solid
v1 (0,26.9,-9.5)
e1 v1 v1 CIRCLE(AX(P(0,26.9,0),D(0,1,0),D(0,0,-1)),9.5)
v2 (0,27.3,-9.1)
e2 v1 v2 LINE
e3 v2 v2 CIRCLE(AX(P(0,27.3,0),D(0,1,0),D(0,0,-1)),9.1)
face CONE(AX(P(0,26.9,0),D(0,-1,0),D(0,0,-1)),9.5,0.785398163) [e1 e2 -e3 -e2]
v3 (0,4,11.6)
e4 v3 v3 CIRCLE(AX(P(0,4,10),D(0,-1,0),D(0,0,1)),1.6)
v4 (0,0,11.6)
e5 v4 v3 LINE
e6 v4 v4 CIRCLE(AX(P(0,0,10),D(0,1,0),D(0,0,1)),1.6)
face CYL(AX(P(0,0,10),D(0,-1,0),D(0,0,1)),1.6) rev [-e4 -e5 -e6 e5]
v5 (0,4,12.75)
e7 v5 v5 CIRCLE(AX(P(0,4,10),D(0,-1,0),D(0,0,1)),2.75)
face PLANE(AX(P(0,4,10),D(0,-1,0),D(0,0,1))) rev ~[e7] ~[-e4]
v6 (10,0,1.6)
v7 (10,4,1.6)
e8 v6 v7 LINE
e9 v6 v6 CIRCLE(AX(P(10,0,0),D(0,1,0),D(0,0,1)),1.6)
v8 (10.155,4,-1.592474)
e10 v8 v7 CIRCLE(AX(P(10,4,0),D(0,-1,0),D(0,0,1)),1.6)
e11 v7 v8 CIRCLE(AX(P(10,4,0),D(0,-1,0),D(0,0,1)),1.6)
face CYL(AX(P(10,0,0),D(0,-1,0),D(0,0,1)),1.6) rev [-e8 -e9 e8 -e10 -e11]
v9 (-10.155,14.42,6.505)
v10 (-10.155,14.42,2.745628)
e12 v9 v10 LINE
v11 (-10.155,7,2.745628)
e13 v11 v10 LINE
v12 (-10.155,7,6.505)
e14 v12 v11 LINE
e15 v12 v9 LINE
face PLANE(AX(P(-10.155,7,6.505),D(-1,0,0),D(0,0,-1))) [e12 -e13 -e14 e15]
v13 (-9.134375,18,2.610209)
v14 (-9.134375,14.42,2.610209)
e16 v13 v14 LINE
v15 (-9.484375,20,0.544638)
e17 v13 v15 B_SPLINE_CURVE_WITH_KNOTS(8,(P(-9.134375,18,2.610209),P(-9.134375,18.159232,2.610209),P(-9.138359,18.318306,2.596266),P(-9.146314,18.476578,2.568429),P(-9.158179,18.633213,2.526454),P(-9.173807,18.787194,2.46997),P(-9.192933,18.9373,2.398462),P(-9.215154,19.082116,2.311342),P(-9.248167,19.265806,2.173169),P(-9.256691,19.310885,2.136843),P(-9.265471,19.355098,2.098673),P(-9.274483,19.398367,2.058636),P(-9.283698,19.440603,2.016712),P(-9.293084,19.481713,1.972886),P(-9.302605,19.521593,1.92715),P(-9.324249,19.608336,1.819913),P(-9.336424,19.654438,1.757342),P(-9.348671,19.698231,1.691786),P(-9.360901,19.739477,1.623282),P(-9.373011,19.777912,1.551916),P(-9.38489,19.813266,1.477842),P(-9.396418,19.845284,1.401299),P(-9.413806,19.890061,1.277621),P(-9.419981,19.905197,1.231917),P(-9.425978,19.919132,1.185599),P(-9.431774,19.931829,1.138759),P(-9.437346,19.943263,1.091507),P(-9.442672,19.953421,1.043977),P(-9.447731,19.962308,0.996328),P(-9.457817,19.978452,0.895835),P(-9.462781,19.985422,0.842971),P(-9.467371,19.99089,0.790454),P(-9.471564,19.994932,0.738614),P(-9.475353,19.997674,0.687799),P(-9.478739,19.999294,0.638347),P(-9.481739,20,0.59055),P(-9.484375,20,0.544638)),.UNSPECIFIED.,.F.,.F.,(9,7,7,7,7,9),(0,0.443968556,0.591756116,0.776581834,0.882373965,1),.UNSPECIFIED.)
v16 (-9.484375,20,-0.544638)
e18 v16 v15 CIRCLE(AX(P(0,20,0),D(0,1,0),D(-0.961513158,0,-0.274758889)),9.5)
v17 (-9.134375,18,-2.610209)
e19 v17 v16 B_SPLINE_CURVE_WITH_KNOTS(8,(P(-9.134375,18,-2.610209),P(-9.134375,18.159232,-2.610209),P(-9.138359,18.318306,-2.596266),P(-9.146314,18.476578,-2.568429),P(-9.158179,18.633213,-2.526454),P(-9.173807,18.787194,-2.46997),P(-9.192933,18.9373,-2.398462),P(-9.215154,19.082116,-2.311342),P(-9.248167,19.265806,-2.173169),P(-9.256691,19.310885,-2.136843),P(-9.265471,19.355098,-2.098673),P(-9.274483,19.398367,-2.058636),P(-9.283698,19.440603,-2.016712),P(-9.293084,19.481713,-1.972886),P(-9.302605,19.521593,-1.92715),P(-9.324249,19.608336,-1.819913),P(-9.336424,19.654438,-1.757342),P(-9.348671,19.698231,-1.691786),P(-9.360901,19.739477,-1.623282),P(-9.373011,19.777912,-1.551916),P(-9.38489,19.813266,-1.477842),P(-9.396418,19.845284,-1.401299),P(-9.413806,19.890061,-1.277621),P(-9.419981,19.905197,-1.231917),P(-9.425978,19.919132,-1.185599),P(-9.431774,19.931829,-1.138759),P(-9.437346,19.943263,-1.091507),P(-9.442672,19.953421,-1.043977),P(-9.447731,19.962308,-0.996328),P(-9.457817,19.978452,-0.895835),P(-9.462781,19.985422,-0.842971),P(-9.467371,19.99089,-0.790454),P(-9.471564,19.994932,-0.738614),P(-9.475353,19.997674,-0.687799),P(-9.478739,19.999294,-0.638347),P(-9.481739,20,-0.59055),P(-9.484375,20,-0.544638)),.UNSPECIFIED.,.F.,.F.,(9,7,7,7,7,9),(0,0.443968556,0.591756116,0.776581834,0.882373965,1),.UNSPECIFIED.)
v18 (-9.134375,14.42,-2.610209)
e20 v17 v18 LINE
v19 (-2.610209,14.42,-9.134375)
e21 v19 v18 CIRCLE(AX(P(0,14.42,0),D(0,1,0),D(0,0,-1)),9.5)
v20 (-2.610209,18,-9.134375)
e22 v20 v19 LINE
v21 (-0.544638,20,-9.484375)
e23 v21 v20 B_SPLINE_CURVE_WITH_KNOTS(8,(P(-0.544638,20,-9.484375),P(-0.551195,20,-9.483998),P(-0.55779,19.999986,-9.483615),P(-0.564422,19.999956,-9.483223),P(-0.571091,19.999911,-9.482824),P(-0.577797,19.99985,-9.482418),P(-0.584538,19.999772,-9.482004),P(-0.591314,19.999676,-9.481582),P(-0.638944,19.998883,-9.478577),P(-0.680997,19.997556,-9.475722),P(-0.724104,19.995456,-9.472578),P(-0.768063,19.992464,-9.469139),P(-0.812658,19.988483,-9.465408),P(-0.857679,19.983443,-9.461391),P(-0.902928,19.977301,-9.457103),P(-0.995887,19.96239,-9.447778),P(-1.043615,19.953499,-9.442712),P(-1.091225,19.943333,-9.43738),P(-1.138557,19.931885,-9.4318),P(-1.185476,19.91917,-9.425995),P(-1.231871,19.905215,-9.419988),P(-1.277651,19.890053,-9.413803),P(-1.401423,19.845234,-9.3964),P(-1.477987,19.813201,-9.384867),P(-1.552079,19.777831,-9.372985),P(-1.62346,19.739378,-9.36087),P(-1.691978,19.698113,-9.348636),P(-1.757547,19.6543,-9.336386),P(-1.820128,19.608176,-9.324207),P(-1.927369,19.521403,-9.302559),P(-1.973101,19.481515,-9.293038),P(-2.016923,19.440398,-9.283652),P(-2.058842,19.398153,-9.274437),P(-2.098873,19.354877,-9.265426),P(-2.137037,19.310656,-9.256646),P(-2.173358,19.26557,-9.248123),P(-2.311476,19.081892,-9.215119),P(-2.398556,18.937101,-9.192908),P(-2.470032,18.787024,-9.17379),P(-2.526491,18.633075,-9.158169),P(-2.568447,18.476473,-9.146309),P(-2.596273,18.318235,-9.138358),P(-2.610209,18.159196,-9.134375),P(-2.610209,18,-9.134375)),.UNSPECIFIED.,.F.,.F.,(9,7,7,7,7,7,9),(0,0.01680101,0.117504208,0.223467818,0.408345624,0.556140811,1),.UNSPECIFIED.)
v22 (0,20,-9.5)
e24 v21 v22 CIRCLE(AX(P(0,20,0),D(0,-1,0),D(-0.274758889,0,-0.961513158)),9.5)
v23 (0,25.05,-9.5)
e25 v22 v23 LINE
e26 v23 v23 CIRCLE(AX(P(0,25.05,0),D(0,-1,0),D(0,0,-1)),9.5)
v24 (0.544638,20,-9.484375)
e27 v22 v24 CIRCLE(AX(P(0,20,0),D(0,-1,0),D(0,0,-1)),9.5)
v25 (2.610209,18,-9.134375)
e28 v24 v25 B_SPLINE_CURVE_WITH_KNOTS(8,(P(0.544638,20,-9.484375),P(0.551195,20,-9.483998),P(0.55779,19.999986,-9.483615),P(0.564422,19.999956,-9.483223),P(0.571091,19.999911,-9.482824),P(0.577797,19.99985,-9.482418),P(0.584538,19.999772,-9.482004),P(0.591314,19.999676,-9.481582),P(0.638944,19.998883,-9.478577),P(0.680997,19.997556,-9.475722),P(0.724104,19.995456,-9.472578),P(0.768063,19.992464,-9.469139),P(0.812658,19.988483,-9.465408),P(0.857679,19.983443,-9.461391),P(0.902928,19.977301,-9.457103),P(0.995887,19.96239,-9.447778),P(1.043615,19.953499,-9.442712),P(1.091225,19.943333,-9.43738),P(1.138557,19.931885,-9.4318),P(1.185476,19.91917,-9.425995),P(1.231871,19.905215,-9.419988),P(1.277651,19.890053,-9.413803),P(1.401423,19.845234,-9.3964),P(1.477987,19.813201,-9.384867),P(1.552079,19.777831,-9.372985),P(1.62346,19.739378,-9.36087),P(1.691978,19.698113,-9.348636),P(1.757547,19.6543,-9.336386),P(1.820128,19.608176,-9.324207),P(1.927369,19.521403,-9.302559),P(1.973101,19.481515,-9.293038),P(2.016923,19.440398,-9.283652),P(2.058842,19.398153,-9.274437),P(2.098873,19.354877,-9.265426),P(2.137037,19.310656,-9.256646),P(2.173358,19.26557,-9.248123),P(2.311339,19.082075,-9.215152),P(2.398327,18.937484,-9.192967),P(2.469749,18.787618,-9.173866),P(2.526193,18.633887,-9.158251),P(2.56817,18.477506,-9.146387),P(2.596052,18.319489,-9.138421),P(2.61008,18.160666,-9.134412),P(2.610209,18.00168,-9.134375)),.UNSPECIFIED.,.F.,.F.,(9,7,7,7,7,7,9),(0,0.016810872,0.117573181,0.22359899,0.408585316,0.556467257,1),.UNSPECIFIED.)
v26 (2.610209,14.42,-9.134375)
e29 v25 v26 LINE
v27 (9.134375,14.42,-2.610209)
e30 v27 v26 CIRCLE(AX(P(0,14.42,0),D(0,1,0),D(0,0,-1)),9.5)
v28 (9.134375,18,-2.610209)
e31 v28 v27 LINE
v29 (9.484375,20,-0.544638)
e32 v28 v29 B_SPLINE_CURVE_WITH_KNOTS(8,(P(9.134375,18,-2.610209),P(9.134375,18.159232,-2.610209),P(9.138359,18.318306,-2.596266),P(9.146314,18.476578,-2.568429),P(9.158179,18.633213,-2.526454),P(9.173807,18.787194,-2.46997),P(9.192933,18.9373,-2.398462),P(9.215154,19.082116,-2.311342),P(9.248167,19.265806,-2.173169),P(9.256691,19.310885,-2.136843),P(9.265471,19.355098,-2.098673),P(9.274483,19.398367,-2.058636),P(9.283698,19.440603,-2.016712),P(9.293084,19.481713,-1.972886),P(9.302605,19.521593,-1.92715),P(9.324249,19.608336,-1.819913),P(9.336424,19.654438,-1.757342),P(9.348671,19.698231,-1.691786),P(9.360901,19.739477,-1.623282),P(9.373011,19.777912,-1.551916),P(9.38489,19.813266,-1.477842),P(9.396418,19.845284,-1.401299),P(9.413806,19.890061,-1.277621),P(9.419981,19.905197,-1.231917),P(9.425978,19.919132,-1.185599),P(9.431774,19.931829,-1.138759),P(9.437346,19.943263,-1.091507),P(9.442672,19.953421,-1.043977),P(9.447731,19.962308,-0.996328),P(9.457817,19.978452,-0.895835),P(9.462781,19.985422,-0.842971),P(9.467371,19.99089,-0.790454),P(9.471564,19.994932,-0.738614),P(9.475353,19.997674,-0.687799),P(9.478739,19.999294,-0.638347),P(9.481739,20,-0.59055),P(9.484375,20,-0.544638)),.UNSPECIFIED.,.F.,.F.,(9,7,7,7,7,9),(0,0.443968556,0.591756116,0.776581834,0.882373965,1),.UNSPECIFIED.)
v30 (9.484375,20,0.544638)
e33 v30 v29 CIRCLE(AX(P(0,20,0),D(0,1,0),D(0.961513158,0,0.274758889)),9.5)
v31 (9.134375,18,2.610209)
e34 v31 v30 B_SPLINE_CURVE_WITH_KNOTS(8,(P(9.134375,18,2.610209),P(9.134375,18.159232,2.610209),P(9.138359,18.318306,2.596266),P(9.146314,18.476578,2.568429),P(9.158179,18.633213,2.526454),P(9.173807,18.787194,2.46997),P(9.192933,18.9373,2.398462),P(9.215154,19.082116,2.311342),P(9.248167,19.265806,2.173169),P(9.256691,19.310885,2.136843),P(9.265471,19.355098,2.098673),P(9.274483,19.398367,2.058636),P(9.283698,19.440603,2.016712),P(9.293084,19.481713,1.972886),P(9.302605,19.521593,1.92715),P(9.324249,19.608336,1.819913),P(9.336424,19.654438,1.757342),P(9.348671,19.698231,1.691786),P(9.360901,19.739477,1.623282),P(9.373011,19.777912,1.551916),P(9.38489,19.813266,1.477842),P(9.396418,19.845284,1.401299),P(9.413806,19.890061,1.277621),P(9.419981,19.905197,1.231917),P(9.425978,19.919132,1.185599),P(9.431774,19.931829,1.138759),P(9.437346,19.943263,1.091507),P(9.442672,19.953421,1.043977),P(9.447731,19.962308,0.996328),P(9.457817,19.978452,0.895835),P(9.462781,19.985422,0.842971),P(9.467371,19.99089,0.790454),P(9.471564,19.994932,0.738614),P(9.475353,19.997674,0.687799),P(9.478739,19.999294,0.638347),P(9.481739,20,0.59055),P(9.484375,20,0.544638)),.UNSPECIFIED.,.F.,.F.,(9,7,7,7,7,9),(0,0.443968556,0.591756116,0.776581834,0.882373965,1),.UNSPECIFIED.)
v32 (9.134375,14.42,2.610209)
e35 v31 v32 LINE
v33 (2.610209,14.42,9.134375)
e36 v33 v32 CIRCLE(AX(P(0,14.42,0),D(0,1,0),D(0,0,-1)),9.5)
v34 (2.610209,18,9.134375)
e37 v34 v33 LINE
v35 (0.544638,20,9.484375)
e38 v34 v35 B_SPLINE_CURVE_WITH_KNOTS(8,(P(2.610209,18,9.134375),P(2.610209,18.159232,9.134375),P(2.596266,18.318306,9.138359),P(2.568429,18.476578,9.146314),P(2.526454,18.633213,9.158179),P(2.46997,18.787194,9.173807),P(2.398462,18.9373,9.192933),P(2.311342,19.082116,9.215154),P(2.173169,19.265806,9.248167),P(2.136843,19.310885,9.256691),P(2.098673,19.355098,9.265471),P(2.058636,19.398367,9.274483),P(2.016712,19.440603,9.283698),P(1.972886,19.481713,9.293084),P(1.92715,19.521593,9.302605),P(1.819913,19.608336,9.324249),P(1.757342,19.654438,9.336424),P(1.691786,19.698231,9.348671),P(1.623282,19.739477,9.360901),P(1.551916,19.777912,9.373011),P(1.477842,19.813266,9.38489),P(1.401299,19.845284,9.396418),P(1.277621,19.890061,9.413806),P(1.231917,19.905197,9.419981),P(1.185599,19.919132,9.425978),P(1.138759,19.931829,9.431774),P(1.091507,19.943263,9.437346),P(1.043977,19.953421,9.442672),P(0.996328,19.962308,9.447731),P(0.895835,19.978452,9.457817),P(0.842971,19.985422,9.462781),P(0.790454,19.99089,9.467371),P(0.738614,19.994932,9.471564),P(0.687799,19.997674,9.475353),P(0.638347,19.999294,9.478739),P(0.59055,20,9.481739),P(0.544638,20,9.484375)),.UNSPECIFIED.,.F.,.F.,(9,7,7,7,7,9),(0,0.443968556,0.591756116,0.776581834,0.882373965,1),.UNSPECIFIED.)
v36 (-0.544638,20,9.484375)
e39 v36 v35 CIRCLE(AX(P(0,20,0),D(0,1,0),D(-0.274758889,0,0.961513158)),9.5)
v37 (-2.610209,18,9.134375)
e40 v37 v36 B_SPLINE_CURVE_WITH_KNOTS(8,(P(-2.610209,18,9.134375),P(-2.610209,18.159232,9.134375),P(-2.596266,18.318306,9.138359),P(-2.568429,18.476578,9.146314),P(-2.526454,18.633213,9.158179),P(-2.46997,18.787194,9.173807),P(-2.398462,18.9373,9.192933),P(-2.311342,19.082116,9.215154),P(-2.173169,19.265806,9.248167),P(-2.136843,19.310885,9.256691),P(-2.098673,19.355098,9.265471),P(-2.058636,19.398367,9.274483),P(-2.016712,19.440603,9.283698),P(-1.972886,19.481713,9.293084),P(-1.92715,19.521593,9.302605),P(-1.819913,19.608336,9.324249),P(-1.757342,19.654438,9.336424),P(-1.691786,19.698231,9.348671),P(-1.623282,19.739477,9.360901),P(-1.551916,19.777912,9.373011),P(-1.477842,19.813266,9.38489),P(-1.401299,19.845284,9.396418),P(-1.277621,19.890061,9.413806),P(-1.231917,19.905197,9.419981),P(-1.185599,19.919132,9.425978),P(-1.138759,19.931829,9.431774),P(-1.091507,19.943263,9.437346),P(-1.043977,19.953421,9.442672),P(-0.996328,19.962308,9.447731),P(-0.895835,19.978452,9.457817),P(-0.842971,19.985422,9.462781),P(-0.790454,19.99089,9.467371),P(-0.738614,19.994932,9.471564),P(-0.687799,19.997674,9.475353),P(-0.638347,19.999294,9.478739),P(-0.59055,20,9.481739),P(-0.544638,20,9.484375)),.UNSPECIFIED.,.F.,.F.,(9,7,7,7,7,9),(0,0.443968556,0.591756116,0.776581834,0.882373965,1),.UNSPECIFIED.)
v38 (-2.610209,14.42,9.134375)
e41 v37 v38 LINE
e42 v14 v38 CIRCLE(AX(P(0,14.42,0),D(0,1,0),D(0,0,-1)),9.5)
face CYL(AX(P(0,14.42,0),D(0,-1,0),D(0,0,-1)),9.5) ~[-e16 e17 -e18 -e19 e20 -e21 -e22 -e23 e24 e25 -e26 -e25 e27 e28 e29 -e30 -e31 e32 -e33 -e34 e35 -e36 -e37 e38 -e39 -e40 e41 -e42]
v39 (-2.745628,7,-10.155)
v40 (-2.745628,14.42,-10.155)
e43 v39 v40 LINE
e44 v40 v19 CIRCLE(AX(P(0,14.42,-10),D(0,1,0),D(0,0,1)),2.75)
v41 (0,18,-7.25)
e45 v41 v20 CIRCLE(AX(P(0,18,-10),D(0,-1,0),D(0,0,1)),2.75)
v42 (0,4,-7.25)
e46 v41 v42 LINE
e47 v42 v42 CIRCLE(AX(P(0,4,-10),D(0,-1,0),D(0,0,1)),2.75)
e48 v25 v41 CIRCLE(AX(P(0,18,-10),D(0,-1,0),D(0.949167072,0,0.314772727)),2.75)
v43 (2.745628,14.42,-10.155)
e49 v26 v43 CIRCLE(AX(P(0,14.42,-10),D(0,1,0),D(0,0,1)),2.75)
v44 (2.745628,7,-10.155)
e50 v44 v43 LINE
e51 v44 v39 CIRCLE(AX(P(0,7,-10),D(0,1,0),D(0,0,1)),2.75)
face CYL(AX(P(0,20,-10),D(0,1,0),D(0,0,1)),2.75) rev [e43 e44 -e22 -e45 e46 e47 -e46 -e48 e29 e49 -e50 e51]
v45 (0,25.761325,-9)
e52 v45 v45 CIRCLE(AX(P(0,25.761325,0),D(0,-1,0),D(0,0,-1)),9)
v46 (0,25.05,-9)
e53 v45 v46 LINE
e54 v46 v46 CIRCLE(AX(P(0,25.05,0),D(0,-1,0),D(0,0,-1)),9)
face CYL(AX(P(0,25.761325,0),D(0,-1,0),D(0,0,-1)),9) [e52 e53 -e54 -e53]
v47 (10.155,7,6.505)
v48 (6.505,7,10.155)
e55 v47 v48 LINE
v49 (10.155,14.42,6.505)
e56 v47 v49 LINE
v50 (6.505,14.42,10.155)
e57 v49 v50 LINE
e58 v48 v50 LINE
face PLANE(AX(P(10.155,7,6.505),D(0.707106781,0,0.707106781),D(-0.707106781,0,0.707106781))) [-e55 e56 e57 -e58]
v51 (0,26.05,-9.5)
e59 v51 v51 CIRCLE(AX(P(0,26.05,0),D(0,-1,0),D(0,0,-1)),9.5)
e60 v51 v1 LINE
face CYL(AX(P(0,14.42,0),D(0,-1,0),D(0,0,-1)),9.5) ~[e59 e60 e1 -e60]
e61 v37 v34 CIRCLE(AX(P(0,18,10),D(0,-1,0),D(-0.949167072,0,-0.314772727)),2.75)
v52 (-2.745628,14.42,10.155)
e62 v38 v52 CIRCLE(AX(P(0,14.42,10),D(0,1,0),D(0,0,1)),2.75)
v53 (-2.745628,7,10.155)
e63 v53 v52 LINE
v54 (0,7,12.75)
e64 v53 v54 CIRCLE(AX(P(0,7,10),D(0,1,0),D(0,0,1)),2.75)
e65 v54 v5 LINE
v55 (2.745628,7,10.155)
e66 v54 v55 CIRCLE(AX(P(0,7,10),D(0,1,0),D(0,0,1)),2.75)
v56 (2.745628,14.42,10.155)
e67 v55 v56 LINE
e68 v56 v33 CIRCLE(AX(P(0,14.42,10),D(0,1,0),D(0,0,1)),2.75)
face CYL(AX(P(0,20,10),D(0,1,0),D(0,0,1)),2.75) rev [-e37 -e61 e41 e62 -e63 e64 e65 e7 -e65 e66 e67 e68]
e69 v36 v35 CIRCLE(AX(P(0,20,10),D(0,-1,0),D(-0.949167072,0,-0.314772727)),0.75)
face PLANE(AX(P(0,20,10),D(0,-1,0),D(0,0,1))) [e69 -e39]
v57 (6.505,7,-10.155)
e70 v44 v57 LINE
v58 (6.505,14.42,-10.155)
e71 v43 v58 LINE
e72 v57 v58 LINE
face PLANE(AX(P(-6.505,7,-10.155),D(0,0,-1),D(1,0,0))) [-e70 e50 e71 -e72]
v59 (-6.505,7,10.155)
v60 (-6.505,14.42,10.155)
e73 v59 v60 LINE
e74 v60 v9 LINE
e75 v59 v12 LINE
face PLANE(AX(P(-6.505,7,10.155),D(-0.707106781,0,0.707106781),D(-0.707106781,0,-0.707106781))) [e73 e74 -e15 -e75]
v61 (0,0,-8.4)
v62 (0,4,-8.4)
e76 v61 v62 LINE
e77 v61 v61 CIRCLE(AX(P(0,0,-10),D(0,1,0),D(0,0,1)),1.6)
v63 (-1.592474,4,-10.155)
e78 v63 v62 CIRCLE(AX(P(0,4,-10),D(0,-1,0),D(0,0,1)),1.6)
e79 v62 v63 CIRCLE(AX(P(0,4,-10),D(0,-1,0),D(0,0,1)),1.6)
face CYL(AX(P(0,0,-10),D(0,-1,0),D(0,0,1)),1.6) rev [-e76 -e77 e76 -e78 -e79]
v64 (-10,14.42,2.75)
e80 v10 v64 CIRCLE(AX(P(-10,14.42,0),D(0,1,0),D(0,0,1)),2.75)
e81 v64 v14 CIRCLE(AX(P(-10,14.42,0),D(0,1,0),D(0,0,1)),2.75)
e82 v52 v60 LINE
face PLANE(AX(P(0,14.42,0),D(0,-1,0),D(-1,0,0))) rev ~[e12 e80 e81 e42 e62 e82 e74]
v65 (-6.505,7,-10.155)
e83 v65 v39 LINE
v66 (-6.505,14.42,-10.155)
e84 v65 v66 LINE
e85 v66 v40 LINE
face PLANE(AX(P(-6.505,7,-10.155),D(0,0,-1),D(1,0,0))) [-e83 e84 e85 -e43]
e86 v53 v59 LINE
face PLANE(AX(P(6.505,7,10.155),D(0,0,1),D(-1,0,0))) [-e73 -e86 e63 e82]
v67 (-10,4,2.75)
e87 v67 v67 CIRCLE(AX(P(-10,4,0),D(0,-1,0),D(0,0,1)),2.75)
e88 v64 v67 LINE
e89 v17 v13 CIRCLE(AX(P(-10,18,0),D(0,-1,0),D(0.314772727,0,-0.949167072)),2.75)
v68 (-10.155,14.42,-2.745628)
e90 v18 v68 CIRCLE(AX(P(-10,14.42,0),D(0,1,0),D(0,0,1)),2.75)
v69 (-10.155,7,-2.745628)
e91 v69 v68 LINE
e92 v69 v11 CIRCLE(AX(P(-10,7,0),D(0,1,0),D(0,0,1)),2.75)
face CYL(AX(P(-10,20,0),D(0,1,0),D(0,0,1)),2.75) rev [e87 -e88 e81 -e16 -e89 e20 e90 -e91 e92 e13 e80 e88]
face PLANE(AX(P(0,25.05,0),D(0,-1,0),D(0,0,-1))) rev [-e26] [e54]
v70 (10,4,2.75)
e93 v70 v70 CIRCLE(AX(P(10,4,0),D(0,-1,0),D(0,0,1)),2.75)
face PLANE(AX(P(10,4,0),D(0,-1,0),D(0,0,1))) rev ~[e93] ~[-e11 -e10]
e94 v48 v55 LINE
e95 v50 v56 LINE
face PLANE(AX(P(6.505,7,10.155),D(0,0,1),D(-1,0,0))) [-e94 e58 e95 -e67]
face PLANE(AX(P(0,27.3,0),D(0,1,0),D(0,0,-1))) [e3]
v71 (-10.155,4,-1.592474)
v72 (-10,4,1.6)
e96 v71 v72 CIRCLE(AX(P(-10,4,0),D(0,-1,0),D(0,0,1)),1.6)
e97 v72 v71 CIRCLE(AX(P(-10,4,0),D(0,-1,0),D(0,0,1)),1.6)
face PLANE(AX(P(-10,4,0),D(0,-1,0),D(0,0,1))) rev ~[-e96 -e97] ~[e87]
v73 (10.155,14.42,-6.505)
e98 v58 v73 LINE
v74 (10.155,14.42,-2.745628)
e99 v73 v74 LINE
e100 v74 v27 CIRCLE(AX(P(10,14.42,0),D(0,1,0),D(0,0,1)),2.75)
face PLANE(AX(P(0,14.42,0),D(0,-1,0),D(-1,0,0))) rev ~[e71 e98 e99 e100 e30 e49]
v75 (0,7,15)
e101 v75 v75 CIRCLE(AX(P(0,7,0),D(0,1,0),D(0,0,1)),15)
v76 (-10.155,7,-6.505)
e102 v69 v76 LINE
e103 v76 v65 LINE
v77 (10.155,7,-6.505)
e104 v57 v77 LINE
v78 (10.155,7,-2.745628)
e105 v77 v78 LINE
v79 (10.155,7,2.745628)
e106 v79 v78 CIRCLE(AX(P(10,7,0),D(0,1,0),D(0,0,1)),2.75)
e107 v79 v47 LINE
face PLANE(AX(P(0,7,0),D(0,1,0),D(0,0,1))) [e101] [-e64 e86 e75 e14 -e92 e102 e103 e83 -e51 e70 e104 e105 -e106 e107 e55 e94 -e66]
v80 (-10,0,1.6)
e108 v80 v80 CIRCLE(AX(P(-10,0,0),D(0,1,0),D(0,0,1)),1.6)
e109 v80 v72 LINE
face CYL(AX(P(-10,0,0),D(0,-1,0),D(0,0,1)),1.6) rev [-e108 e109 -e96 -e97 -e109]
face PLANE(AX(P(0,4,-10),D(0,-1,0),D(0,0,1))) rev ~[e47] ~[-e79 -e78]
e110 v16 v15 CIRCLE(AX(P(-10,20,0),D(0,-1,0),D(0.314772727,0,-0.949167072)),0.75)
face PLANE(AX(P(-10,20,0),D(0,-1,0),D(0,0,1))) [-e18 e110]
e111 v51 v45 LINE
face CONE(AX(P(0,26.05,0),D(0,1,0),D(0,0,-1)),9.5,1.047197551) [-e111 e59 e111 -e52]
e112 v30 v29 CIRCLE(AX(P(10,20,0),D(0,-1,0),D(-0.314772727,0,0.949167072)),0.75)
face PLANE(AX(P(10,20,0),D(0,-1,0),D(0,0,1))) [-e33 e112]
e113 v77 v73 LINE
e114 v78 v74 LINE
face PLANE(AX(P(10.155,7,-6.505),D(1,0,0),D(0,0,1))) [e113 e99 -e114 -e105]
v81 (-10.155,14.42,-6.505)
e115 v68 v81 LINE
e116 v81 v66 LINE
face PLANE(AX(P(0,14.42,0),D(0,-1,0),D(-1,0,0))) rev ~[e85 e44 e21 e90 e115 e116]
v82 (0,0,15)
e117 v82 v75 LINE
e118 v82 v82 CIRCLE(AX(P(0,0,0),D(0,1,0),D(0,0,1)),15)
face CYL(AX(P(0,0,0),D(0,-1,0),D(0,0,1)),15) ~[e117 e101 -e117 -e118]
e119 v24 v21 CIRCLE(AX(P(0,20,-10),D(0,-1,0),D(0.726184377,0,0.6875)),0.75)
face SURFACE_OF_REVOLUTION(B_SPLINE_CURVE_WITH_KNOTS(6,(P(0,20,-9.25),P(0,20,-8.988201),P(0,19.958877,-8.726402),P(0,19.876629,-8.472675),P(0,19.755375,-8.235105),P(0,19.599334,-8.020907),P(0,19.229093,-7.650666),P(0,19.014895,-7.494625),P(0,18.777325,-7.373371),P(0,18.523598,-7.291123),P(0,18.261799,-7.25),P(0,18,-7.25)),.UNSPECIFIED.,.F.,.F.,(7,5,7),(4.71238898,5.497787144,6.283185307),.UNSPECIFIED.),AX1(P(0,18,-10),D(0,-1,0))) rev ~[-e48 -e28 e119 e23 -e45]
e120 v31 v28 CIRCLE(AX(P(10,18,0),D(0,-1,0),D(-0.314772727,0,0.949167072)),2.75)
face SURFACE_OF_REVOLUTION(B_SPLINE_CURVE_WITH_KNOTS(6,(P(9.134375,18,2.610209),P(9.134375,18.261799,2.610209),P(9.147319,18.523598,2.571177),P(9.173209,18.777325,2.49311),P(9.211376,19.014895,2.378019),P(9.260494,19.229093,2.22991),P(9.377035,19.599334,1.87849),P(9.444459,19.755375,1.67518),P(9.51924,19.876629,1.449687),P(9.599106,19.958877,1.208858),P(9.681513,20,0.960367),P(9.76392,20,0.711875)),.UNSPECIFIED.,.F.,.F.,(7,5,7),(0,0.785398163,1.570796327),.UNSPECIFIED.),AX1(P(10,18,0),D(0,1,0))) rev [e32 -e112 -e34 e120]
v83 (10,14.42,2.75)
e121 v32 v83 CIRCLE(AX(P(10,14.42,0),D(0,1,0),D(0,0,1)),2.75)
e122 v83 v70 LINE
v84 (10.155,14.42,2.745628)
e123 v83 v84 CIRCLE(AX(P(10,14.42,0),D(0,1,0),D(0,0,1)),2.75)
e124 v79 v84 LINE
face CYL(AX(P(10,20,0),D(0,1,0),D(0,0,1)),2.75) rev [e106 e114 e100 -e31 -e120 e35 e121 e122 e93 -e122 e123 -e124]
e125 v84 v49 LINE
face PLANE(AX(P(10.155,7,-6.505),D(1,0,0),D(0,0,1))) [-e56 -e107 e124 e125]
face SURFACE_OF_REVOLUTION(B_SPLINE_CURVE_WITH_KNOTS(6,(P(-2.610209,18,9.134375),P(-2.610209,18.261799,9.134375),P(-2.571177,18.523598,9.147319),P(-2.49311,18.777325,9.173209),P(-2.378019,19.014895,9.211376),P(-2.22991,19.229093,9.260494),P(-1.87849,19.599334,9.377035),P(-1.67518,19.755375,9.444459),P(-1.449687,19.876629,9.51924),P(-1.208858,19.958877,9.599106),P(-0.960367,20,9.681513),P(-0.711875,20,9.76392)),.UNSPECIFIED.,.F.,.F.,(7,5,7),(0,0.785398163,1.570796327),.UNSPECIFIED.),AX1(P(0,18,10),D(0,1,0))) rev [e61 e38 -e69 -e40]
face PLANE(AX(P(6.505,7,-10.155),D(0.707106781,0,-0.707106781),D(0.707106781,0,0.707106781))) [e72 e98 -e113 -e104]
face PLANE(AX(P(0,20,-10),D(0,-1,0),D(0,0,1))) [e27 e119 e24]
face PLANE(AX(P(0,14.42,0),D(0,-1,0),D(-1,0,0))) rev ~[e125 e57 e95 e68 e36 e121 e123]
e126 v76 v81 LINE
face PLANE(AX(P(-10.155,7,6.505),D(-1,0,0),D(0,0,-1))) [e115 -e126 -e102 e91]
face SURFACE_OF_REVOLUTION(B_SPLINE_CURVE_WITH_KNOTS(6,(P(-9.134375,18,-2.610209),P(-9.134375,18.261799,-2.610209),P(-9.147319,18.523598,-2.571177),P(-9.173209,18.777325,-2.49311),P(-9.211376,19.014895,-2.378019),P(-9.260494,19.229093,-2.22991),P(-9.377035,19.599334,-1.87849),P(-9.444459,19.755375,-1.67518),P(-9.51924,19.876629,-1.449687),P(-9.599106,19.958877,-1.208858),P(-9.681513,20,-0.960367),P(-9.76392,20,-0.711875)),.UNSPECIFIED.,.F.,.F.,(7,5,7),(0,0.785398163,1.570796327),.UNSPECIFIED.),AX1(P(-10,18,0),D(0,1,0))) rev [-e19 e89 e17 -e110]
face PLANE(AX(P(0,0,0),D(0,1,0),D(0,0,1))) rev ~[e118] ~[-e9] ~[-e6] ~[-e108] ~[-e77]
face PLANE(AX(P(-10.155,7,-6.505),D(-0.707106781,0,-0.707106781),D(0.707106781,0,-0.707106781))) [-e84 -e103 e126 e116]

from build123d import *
from build123d.topology import SkipClean

# Parameters (mm, degrees)
SKETCH1_R           = 15
SKETCH1_R_2         = 1.6
BOSS_EXTRUDE1_DEPTH = 7
BOSS_EXTRUDE2_DEPTH = 7.42
SKETCH3_R           = 9.5
BOSS_EXTRUDE3_DEPTH = 12.88
SKETCH5_R           = 1.6
CUT_EXTRUDE1_DEPTH  = 20
SKETCH6_R           = 2.75
CUT_EXTRUDE2_DEPTH  = 16
FILLET1_R           = 2
CHAMFER1_SIZE       = 0.4


with BuildPart() as part:
    # Sketch1 → Boss-Extrude1 (new body)
    with BuildSketch(Plane(origin=(0, 0, 0), x_dir=(1, 0, 0), z_dir=(0, 1, 0))):
        with Locations(Location((0, 0, 0), (0, 0, 270))):
            Circle(SKETCH1_R)
        with Locations(Location((0, 10, 0), (0, 0, 270))):
            Circle(SKETCH1_R_2, mode=Mode.SUBTRACT)
        with Locations(Location((0, -10, 0), (0, 0, 270))):
            Circle(SKETCH1_R_2, mode=Mode.SUBTRACT)
        with Locations(Location((10, 0, 0), (0, 0, 270))):
            Circle(SKETCH1_R_2, mode=Mode.SUBTRACT)
        with Locations(Location((-10, 0, 0), (0, 0, 270))):
            Circle(SKETCH1_R_2, mode=Mode.SUBTRACT)
    extrude(amount=BOSS_EXTRUDE1_DEPTH)

    # Sketch2 → Boss-Extrude2 (add)
    with BuildSketch(Plane(origin=(0, 7, 0), x_dir=(1, 0, 0), z_dir=(0, 1, 0))):
        Polygon((-6.505, 10.155), (6.505, 10.155), (10.155, 6.505), (10.155, -6.505), (6.505, -10.155), (-6.505, -10.155), (-10.155, -6.505), (-10.155, 6.505), align=None)
    extrude(amount=BOSS_EXTRUDE2_DEPTH)

    # Sketch3 → Boss-Extrude3 (add)
    with BuildSketch(Plane(origin=(0, 14.42, 0), x_dir=(1, 0, 0), z_dir=(0, 1, 0))):
        with Locations(Location((0, 0, 0), (0, 0, 90))):
            Circle(SKETCH3_R)
    extrude(amount=BOSS_EXTRUDE3_DEPTH)

    # Sketch4 → Cut-Revolve1 (revolve, cut)
    with BuildSketch(Plane.XY, mode=Mode.PRIVATE) as cut_revolve1_sk:
        Polygon((9, 25.05), (10, 25.05), (10, 26.05), (9.5, 26.05), (9, 25.761324865), align=None)
    revolve(cut_revolve1_sk.sketch.rotate(Axis((0, 27.3, 0), (0, -1, 0)), 270), axis=Axis((0, 27.3, 0), (0, -1, 0)), mode=Mode.SUBTRACT)

    # Sketch5 → Cut-Extrude1 (cut)
    with SkipClean():  # the faces are left unmerged after this step: merging them gives an invalid solid
        with BuildSketch(Plane.XZ):
            with Locations(Location((0, -10, 0), (0, 0, 185.559247246))):
                Circle(SKETCH5_R)
            with Locations(Location((10, 0, 0), (0, 0, 275.559247246))):
                Circle(SKETCH5_R)
            with Locations(Location((-10, 0, 0), (0, 0, 264.440752754))):
                Circle(SKETCH5_R)
            with Locations(Location((0, 10, 0), (0, 0, 202.624341254))):
                Circle(SKETCH5_R)
        extrude(amount=-CUT_EXTRUDE1_DEPTH, mode=Mode.SUBTRACT)

    # Sketch6 → Cut-Extrude2 (cut)
    with BuildSketch(Plane.XZ.offset(-20)):
        with Locations(Location((10, 0, 0), (0, 0, 90))):
            Circle(SKETCH6_R)
        with Locations(Location((0, 10, 0), (0, 0, 90))):
            Circle(SKETCH6_R)
        with Locations(Location((-10, 0, 0), (0, 0, 90))):
            Circle(SKETCH6_R)
        with Locations(Location((0, -10, 0), (0, 0, 90))):
            Circle(SKETCH6_R)
    extrude(amount=CUT_EXTRUDE2_DEPTH, mode=Mode.SUBTRACT)

    # Fillet1
    fillet1_edges = [part.edges().sort_by_distance(p)[0] for p in [
        (7.25, 20, 0),
        (0, 20, 7.25),
        (-7.25, 20, 0),
        (-1.609663202, 20, -7.770317427),
    ]]
    fillet(fillet1_edges, radius=FILLET1_R)

    # Chamfer1
    chamfer1_edges = [part.edges().sort_by_distance(p)[0] for p in [
        (0, 27.3, 9.5),
    ]]
    chamfer(chamfer1_edges, length=CHAMFER1_SIZE)


solid = part.part
